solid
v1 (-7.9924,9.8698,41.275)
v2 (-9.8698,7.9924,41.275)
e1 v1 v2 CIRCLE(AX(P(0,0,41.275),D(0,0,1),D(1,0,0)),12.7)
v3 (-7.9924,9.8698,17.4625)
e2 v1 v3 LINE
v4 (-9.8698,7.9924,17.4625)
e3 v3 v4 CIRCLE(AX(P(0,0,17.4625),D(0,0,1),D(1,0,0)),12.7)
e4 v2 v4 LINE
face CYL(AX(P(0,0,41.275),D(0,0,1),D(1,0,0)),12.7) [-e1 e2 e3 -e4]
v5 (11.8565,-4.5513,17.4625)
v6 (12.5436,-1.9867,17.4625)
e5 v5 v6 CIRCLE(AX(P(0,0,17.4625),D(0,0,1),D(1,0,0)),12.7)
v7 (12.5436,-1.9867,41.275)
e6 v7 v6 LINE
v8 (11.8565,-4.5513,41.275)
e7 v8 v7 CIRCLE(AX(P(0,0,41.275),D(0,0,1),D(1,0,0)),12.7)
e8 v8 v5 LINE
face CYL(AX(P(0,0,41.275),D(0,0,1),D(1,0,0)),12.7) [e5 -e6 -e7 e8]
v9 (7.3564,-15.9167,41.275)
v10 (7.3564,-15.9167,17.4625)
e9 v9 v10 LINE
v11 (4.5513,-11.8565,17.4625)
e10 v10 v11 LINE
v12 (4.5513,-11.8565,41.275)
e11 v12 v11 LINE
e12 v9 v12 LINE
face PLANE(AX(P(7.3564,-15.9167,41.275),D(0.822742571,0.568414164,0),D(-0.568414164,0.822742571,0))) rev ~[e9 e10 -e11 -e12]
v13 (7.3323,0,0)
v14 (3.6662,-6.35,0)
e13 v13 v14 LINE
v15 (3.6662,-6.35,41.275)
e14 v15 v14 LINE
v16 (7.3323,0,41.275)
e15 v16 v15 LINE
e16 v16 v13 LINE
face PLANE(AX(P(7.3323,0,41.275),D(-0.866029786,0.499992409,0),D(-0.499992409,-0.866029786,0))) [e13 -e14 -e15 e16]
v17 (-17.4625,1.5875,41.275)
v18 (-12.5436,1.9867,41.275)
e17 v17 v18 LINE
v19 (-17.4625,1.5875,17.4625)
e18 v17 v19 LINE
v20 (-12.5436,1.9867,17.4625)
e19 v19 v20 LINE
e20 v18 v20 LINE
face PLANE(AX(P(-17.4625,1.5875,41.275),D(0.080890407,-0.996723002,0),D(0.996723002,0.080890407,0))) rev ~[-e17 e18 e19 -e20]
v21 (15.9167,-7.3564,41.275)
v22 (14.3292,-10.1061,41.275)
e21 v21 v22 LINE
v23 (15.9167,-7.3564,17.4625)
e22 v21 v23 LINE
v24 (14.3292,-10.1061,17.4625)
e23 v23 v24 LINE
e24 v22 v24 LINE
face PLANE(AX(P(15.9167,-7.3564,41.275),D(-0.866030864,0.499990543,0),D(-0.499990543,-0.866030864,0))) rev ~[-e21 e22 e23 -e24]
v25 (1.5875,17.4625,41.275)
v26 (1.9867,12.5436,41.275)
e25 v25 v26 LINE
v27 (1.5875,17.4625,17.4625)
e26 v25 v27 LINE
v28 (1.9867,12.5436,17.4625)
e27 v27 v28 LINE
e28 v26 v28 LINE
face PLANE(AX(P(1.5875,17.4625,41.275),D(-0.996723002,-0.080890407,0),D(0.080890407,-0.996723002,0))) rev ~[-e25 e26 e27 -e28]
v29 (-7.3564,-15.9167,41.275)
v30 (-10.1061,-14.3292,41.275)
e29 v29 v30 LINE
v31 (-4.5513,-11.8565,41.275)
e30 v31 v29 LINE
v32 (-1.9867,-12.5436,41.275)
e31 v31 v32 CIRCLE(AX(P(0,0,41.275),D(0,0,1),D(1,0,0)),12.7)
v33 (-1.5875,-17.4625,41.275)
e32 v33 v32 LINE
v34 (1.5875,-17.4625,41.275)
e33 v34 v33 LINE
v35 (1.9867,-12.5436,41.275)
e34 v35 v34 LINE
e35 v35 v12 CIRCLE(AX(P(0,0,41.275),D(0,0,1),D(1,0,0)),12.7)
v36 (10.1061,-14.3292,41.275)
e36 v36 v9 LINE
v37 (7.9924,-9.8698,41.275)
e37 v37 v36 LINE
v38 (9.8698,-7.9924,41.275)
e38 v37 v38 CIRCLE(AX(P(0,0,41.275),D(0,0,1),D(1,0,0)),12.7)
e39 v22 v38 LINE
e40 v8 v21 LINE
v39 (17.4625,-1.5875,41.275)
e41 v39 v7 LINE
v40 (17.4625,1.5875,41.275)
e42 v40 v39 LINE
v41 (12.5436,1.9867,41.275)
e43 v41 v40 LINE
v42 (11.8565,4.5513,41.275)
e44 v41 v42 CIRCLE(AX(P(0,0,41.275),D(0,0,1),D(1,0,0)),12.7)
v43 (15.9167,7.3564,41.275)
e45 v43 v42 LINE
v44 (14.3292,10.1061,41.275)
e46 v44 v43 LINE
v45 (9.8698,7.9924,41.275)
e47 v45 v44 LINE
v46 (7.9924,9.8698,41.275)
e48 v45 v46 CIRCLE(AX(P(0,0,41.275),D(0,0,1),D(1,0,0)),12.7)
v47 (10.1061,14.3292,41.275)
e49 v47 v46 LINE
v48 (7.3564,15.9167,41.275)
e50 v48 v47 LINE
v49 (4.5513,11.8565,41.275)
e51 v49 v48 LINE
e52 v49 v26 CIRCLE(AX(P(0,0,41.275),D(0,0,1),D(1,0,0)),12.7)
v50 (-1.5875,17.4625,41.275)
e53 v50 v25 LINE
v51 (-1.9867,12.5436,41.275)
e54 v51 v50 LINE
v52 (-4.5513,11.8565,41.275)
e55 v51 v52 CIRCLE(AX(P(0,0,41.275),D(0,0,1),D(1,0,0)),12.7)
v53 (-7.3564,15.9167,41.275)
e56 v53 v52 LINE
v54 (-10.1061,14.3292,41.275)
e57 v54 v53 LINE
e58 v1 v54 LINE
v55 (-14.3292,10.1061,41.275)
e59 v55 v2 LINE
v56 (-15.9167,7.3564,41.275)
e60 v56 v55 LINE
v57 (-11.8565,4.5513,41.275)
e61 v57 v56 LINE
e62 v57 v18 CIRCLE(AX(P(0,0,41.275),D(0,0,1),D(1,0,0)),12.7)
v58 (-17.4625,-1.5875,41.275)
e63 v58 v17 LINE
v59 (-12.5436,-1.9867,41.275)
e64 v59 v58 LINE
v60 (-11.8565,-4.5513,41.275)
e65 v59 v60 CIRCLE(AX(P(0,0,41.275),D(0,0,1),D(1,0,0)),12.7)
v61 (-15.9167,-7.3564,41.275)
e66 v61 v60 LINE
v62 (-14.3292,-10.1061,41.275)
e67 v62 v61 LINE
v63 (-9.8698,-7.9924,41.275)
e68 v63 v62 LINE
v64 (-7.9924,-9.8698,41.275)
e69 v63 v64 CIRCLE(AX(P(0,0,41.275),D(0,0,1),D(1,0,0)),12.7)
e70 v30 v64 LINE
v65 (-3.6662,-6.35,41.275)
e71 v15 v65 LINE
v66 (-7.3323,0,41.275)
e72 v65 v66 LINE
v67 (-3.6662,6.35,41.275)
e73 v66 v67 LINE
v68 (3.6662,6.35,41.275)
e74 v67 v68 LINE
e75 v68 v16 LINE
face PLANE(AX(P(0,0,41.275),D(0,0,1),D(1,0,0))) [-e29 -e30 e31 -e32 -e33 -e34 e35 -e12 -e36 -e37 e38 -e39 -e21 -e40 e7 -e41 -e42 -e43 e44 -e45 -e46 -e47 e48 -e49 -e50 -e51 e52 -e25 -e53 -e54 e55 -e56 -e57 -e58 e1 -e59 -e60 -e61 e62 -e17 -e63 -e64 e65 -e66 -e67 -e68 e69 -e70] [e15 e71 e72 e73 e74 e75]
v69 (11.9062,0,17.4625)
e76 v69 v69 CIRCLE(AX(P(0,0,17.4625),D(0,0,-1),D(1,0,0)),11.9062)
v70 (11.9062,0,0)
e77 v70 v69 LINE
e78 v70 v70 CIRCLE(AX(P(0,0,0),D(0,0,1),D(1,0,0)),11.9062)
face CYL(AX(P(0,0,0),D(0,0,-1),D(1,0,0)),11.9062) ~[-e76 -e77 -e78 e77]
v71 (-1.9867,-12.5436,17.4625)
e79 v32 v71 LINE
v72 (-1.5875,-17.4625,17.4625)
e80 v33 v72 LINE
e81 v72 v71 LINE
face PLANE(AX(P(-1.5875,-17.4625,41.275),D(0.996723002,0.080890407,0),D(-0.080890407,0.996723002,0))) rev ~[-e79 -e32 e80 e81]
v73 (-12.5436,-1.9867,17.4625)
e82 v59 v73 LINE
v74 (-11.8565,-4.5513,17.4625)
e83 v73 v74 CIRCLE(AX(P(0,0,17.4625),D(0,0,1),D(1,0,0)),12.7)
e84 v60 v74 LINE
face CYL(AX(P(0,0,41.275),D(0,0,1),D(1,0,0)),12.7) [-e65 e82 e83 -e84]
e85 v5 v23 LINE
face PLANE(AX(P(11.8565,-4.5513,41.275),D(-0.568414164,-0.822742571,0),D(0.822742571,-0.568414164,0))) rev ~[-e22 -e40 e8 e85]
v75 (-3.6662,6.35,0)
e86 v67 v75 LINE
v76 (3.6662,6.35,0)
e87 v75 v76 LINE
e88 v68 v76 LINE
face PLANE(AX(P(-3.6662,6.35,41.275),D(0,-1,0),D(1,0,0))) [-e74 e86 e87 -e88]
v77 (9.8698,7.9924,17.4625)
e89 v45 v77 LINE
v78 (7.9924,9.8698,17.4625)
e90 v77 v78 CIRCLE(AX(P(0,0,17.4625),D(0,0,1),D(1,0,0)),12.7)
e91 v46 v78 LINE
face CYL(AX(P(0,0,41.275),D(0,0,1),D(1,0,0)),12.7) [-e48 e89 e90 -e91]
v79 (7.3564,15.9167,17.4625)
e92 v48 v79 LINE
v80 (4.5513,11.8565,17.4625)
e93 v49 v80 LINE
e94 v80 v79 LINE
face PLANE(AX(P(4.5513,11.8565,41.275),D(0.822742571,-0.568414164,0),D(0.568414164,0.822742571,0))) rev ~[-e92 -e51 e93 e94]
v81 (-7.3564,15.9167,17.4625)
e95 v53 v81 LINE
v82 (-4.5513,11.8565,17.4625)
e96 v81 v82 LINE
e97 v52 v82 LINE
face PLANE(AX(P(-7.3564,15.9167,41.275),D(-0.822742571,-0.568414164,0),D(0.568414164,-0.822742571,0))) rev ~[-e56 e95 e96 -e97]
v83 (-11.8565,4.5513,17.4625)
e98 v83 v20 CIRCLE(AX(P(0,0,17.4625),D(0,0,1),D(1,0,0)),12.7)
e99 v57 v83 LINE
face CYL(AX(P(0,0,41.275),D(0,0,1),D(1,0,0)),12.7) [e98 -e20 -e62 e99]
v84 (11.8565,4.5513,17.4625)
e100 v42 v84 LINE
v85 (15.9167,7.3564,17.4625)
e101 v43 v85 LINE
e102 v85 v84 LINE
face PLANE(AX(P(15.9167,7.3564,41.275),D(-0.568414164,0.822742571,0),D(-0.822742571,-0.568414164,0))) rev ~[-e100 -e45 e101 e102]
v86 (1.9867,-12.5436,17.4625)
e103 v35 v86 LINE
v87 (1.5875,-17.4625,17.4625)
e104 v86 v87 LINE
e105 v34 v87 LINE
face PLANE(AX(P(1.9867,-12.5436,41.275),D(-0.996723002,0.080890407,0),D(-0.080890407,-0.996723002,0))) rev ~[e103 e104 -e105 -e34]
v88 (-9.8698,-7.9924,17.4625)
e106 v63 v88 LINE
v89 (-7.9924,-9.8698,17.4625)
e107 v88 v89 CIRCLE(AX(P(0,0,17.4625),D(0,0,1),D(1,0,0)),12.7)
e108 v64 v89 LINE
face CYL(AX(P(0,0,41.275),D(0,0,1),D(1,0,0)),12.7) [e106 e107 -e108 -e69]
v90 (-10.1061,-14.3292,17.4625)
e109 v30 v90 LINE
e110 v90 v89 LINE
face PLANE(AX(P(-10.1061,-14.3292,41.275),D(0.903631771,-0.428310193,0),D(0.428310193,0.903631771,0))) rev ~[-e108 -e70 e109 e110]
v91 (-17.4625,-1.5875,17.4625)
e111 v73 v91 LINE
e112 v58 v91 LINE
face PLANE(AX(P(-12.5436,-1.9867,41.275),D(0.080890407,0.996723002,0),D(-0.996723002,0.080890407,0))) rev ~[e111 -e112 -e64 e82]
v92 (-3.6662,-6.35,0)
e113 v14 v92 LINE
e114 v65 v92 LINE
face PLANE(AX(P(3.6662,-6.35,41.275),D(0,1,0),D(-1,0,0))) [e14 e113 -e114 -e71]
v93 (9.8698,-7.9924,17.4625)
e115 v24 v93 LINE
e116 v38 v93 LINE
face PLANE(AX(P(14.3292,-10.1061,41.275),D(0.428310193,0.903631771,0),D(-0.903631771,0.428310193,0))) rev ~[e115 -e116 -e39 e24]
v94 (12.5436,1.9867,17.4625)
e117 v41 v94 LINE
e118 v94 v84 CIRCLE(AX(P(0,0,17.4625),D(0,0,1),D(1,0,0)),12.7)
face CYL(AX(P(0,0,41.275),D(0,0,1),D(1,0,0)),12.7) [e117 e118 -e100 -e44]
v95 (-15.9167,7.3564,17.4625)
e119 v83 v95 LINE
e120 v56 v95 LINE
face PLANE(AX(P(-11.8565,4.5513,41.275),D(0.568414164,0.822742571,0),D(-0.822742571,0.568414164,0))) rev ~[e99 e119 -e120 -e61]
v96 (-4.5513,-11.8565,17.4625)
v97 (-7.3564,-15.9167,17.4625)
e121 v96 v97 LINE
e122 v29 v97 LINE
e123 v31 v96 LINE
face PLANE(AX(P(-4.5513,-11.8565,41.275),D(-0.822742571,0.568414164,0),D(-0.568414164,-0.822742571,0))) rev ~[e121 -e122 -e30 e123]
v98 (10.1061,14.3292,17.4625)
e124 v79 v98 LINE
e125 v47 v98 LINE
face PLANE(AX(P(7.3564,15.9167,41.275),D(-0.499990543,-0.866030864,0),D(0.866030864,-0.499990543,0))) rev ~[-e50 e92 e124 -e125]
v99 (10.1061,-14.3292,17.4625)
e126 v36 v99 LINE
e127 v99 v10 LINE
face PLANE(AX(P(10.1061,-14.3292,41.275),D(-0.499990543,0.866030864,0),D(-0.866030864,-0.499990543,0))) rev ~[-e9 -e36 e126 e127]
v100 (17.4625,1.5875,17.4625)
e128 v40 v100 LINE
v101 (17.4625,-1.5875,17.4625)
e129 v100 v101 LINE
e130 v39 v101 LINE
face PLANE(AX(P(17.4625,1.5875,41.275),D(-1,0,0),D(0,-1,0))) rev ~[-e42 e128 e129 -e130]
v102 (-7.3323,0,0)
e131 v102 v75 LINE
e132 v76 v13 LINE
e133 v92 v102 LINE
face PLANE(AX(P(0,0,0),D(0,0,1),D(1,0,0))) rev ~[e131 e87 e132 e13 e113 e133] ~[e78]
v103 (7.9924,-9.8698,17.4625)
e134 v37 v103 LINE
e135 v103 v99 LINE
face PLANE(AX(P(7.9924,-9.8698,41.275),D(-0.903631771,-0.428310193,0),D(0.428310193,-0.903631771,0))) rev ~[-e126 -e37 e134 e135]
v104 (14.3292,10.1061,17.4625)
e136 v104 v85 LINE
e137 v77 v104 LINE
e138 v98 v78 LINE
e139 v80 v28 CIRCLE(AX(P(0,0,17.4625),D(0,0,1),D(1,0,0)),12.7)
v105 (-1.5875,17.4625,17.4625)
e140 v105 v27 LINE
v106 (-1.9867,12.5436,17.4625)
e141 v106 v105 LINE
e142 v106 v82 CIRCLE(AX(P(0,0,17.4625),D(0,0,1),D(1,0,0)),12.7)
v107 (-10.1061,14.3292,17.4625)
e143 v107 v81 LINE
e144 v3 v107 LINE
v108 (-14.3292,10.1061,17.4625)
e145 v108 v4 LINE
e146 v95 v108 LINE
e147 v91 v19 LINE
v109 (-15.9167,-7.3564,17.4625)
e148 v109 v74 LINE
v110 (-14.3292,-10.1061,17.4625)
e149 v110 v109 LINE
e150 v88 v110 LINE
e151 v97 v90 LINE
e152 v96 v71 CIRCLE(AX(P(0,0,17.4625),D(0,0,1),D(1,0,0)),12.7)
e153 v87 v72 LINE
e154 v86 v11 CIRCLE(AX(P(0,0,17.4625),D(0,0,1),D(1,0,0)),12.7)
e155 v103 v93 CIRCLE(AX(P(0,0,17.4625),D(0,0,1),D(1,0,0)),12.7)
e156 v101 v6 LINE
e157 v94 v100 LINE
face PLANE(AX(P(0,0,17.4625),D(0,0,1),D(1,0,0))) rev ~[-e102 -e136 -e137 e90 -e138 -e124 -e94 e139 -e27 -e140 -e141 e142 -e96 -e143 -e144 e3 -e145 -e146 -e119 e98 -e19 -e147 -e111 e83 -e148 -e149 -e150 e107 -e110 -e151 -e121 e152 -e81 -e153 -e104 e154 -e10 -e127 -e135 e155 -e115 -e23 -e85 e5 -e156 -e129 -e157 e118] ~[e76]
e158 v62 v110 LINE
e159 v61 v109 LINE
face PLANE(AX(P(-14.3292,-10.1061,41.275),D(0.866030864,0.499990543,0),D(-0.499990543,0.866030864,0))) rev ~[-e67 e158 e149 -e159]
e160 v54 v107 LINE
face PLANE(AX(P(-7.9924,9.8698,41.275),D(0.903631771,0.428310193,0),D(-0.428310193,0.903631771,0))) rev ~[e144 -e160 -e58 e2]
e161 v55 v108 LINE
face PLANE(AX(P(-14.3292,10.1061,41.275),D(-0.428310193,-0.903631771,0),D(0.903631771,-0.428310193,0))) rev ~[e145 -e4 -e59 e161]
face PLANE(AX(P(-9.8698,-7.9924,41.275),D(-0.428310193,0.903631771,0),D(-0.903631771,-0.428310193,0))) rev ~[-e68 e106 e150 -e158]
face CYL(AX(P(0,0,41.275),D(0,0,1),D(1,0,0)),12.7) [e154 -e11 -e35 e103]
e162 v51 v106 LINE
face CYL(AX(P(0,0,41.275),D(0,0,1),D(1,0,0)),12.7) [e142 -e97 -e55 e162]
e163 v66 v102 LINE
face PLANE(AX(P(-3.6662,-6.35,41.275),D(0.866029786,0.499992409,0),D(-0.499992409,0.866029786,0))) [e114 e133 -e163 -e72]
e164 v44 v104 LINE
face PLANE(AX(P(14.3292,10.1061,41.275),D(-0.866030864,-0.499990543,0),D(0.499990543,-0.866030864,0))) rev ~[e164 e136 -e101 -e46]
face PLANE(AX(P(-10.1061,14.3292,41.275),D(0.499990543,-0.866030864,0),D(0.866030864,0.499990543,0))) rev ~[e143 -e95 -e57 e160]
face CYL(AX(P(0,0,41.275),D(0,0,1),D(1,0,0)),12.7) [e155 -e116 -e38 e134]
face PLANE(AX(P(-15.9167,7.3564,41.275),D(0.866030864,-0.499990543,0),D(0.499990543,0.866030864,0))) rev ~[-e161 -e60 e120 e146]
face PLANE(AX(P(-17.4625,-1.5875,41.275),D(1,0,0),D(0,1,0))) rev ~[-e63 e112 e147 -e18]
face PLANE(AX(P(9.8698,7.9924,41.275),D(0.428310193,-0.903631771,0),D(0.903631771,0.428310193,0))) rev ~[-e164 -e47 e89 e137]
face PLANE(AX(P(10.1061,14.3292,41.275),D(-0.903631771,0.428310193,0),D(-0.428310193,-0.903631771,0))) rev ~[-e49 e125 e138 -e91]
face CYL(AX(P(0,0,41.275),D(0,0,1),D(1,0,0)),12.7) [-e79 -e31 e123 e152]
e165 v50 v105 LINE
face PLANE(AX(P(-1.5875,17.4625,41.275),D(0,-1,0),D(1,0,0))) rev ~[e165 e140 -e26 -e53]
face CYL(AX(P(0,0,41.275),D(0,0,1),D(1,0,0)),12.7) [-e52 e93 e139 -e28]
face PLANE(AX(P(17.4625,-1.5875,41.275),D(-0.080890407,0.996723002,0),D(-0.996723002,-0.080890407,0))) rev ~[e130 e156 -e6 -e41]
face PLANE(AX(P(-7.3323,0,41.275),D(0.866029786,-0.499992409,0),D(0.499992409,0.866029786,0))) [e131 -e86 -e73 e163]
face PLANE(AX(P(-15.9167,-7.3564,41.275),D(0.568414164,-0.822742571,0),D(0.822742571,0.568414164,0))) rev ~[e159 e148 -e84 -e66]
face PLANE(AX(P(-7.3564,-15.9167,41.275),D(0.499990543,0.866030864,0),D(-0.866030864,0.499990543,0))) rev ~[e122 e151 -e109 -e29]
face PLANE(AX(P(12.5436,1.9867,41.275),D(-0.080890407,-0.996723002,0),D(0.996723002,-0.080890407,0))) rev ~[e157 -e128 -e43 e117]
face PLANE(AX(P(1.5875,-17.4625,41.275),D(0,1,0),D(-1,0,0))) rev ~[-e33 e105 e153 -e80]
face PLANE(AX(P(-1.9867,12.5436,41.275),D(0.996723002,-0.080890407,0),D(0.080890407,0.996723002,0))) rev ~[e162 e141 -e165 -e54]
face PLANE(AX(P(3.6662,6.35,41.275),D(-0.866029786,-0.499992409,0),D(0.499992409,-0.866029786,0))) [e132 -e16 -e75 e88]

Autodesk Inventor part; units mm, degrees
ref_plane "YZ Plane" through (0, 0, 0) normal (1, 0, 0) x (0, 1, 0)
ref_plane "XZ Plane" through (0, 0, 0) normal (0, 1, 0) x (-1, 0, 0)
ref_plane "XY Plane" through (0, 0, 0) normal (0, 0, 1) x (1, 0, 0)
sketch "Sketch1" plane through (0, 0, 0) normal (0, 0, 1) x (1, 0, 0)
  circle A0 centre (0, 0) radius 11.9062
  dimension "d0" = 23.8125
extrude "Extrusion1" add sketch "Sketch1" along normal blind 41.275
sketch "Sketch2" plane through (0, 0, 41.275) normal (0, 0, 1) x (1, 0, 0)
  circle A0 centre (0, 0) radius 12.7
  dimension "d3" = 25.4
extrude "Extrusion2" add sketch "Sketch2" against normal blind 23.8125
sketch "Sketch3" plane through (0, 0, 41.275) normal (0, 0, 1) x (1, 0, 0)
  line L0 (-3.6662, 6.35) -> (3.6662, 6.35)
  line L1 (3.6662, 6.35) -> (7.3323, 0)
  line L2 (7.3323, 0) -> (3.6662, -6.35)
  line L3 (3.6662, -6.35) -> (-3.6662, -6.35)
  line L4 (-3.6662, -6.35) -> (-7.3323, 0)
  line L5 (-7.3323, 0) -> (-3.6662, 6.35)
  point P0 (0, 0)
  dimension "d6" = 12.7
  dimension "d7" = 12.7
  dimension "d8" = 12.7
  dimension "d9" = 120
  dimension "d10" = 120
  dimension "d11" = 6.35
  dimension "d12" = 6.35
  dimension "d13" = 6.35
extrude "Extrusion3" cut sketch "Sketch3" against normal blind 50.8
sketch "Sketch4" plane through (0, 0, 41.275) normal (0, 0, 1) x (1, 0, 0)
  line L0 (-7.3323, 0) -> (-3.6662, 6.35) projected
  line L1 (-3.6662, 6.35) -> (3.6662, 6.35) projected
  line L2 (3.6662, 6.35) -> (7.3323, 0) projected
  line L3 (7.3323, 0) -> (3.6662, -6.35) projected
  line L4 (3.6662, -6.35) -> (-3.6662, -6.35) projected
  line L5 (-3.6662, -6.35) -> (-7.3323, 0) projected
  circle A0 centre (0, 0) radius 12.7 projected
  line L6 (0, 12.7) -> (0, 17.4625) construction
  line L7 (0, 12.7) -> (4.7625, 12.7) construction
  line L8 (0, 0) -> (1.9867, 12.5436) construction
  circle A1 centre (0, 0) radius 12.7 construction
  line L9 (0, 0) -> (12.7, 0) construction
  line L10 (0, 0) -> (-1.9867, 12.5436) construction
  line L11 (0, 0) -> (12.7, 0) construction
  line L12 (0, 17.4625) -> (0.7937, 17.4625) construction
  line L13 (0, 17.4625) -> (0.7937, 17.4625) construction
  line L14 (0, 17.4625) -> (-1.5875, 17.4625) construction
  line L15 (0, 17.4625) -> (1.5875, 17.4625) construction
  line L16 (-1.9867, 12.5436) -> (-1.5875, 17.4625)
  line L17 (-1.5875, 17.4625) -> (1.5875, 17.4625)
  line L18 (1.5875, 17.4625) -> (1.9867, 12.5436)
  line L19 (-1.9867, 12.5436) -> (1.9867, 12.5436)
  line L20 (-6.35, 10.9985) -> (-8.7312, 15.123) construction
  line L21 (-6.35, 10.9985) -> (-2.2256, 13.3798) construction
  line L22 (0, 0) -> (-4.5513, 11.8565) construction
  line L23 (0, 0) -> (-7.9924, 9.8698) construction
  line L24 (-8.7312, 15.123) -> (-8.0438, 15.5198) construction
  line L25 (-8.7312, 15.123) -> (-8.0438, 15.5198) construction
  line L26 (-8.7312, 15.123) -> (-10.1061, 14.3292) construction
  line L27 (-8.7312, 15.123) -> (-7.3564, 15.9167) construction
  line L28 (-7.9924, 9.8698) -> (-10.1061, 14.3292)
  line L29 (-10.1061, 14.3292) -> (-7.3564, 15.9167)
  line L30 (-7.3564, 15.9167) -> (-4.5513, 11.8565)
  line L31 (-7.9924, 9.8698) -> (-4.5513, 11.8565)
  line L32 (-10.9985, 6.35) -> (-15.123, 8.7313) construction
  line L33 (-10.9985, 6.35) -> (-8.6173, 10.4744) construction
  line L34 (0, 0) -> (-9.8698, 7.9924) construction
  line L35 (0, 0) -> (-11.8565, 4.5513) construction
  line L36 (-15.123, 8.7313) -> (-14.7261, 9.4187) construction
  line L37 (-15.123, 8.7313) -> (-14.7261, 9.4187) construction
  line L38 (-15.123, 8.7313) -> (-15.9167, 7.3564) construction
  line L39 (-15.123, 8.7313) -> (-14.3292, 10.1061) construction
  line L40 (-11.8565, 4.5513) -> (-15.9167, 7.3564)
  line L41 (-15.9167, 7.3564) -> (-14.3292, 10.1061)
  line L42 (-14.3292, 10.1061) -> (-9.8698, 7.9924)
  line L43 (-11.8565, 4.5513) -> (-9.8698, 7.9924)
  line L44 (-12.7, 0) -> (-17.4625, 0) construction
  line L45 (-12.7, 0) -> (-12.7, 4.7625) construction
  line L46 (0, 0) -> (-12.5436, 1.9867) construction
  line L47 (0, 0) -> (-12.5436, -1.9867) construction
  line L48 (-17.4625, 0) -> (-17.4625, 0.7938) construction
  line L49 (-17.4625, 0) -> (-17.4625, 0.7938) construction
  line L50 (-17.4625, 0) -> (-17.4625, -1.5875) construction
  line L51 (-17.4625, 0) -> (-17.4625, 1.5875) construction
  line L52 (-12.5436, -1.9867) -> (-17.4625, -1.5875)
  line L53 (-17.4625, -1.5875) -> (-17.4625, 1.5875)
  line L54 (-17.4625, 1.5875) -> (-12.5436, 1.9867)
  line L55 (-12.5436, -1.9867) -> (-12.5436, 1.9867)
  line L56 (-10.9985, -6.35) -> (-15.123, -8.7312) construction
  line L57 (-10.9985, -6.35) -> (-13.3798, -2.2256) construction
  line L58 (0, 0) -> (-11.8565, -4.5513) construction
  line L59 (0, 0) -> (-9.8698, -7.9924) construction
  line L60 (-15.123, -8.7312) -> (-15.5198, -8.0438) construction
  line L61 (-15.123, -8.7312) -> (-15.5198, -8.0438) construction
  line L62 (-15.123, -8.7312) -> (-14.3292, -10.1061) construction
  line L63 (-15.123, -8.7312) -> (-15.9167, -7.3564) construction
  line L64 (-9.8698, -7.9924) -> (-14.3292, -10.1061)
  line L65 (-14.3292, -10.1061) -> (-15.9167, -7.3564)
  line L66 (-15.9167, -7.3564) -> (-11.8565, -4.5513)
  line L67 (-9.8698, -7.9924) -> (-11.8565, -4.5513)
  line L68 (-6.35, -10.9985) -> (-8.7313, -15.123) construction
  line L69 (-6.35, -10.9985) -> (-10.4744, -8.6173) construction
  line L70 (0, 0) -> (-7.9924, -9.8698) construction
  line L71 (0, 0) -> (-4.5513, -11.8565) construction
  line L72 (-8.7313, -15.123) -> (-9.4187, -14.7261) construction
  line L73 (-8.7313, -15.123) -> (-9.4187, -14.7261) construction
  line L74 (-8.7313, -15.123) -> (-7.3564, -15.9167) construction
  line L75 (-8.7313, -15.123) -> (-10.1061, -14.3292) construction
  line L76 (-4.5513, -11.8565) -> (-7.3564, -15.9167)
  line L77 (-7.3564, -15.9167) -> (-10.1061, -14.3292)
  line L78 (-10.1061, -14.3292) -> (-7.9924, -9.8698)
  line L79 (-4.5513, -11.8565) -> (-7.9924, -9.8698)
  line L80 (0, -12.7) -> (0, -17.4625) construction
  line L81 (0, -12.7) -> (-4.7625, -12.7) construction
  line L82 (0, 0) -> (-1.9867, -12.5436) construction
  line L83 (0, 0) -> (1.9867, -12.5436) construction
  line L84 (0, -17.4625) -> (-0.7938, -17.4625) construction
  line L85 (0, -17.4625) -> (-0.7938, -17.4625) construction
  line L86 (0, -17.4625) -> (1.5875, -17.4625) construction
  line L87 (0, -17.4625) -> (-1.5875, -17.4625) construction
  line L88 (1.9867, -12.5436) -> (1.5875, -17.4625)
  line L89 (1.5875, -17.4625) -> (-1.5875, -17.4625)
  line L90 (-1.5875, -17.4625) -> (-1.9867, -12.5436)
  line L91 (1.9867, -12.5436) -> (-1.9867, -12.5436)
  line L92 (6.35, -10.9985) -> (8.7312, -15.123) construction
  line L93 (6.35, -10.9985) -> (2.2256, -13.3798) construction
  line L94 (0, 0) -> (4.5513, -11.8565) construction
  line L95 (0, 0) -> (7.9924, -9.8698) construction
  line L96 (8.7312, -15.123) -> (8.0438, -15.5198) construction
  line L97 (8.7312, -15.123) -> (8.0438, -15.5198) construction
  line L98 (8.7312, -15.123) -> (10.1061, -14.3292) construction
  line L99 (8.7312, -15.123) -> (7.3564, -15.9167) construction
  line L100 (7.9924, -9.8698) -> (10.1061, -14.3292)
  line L101 (10.1061, -14.3292) -> (7.3564, -15.9167)
  line L102 (7.3564, -15.9167) -> (4.5513, -11.8565)
  line L103 (7.9924, -9.8698) -> (4.5513, -11.8565)
  line L104 (10.9985, -6.35) -> (15.123, -8.7313) construction
  line L105 (10.9985, -6.35) -> (8.6173, -10.4744) construction
  line L106 (0, 0) -> (9.8698, -7.9924) construction
  line L107 (0, 0) -> (11.8565, -4.5513) construction
  line L108 (15.123, -8.7313) -> (14.7261, -9.4187) construction
  line L109 (15.123, -8.7313) -> (14.7261, -9.4187) construction
  line L110 (15.123, -8.7313) -> (15.9167, -7.3564) construction
  line L111 (15.123, -8.7313) -> (14.3292, -10.1061) construction
  line L112 (11.8565, -4.5513) -> (15.9167, -7.3564)
  line L113 (15.9167, -7.3564) -> (14.3292, -10.1061)
  line L114 (14.3292, -10.1061) -> (9.8698, -7.9924)
  line L115 (11.8565, -4.5513) -> (9.8698, -7.9924)
  line L116 (12.7, 0) -> (17.4625, 0) construction
  line L117 (12.7, 0) -> (12.7, -4.7625) construction
  line L118 (0, 0) -> (12.5436, -1.9867) construction
  line L119 (0, 0) -> (12.5436, 1.9867) construction
  line L120 (17.4625, 0) -> (17.4625, -0.7938) construction
  line L121 (17.4625, 0) -> (17.4625, -0.7938) construction
  line L122 (17.4625, 0) -> (17.4625, 1.5875) construction
  line L123 (17.4625, 0) -> (17.4625, -1.5875) construction
  line L124 (12.5436, 1.9867) -> (17.4625, 1.5875)
  line L125 (17.4625, 1.5875) -> (17.4625, -1.5875)
  line L126 (17.4625, -1.5875) -> (12.5436, -1.9867)
  line L127 (12.5436, 1.9867) -> (12.5436, -1.9867)
  line L128 (10.9985, 6.35) -> (15.123, 8.7313) construction
  line L129 (10.9985, 6.35) -> (13.3798, 2.2256) construction
  line L130 (0, 0) -> (11.8565, 4.5513) construction
  line L131 (0, 0) -> (9.8698, 7.9924) construction
  line L132 (15.123, 8.7313) -> (15.5198, 8.0438) construction
  line L133 (15.123, 8.7313) -> (15.5198, 8.0438) construction
  line L134 (15.123, 8.7313) -> (14.3292, 10.1061) construction
  line L135 (15.123, 8.7313) -> (15.9167, 7.3564) construction
  line L136 (9.8698, 7.9924) -> (14.3292, 10.1061)
  line L137 (14.3292, 10.1061) -> (15.9167, 7.3564)
  line L138 (15.9167, 7.3564) -> (11.8565, 4.5513)
  line L139 (9.8698, 7.9924) -> (11.8565, 4.5513)
  line L140 (6.35, 10.9985) -> (8.7312, 15.123) construction
  line L141 (6.35, 10.9985) -> (10.4744, 8.6173) construction
  line L142 (0, 0) -> (7.9924, 9.8698) construction
  line L143 (0, 0) -> (4.5513, 11.8565) construction
  line L144 (8.7312, 15.123) -> (9.4187, 14.7261) construction
  line L145 (8.7312, 15.123) -> (9.4187, 14.7261) construction
  line L146 (8.7312, 15.123) -> (7.3564, 15.9167) construction
  line L147 (8.7312, 15.123) -> (10.1061, 14.3292) construction
  line L148 (4.5513, 11.8565) -> (7.3564, 15.9167)
  line L149 (7.3564, 15.9167) -> (10.1061, 14.3292)
  line L150 (10.1061, 14.3292) -> (7.9924, 9.8698)
  line L151 (4.5513, 11.8565) -> (7.9924, 9.8698)
  dimension "d16" = 12.7
  dimension "d17" = 0
  dimension "d18" = 4.7625
  dimension "d19" = 90
  dimension "d20" = 81
  dimension "d21" = 99
  dimension "d22" = 0.7937
  dimension "d23" = 0
  dimension "d24" = 1.5875
  dimension "d25" = 180
  dimension "d28" = 360
extrude "Extrusion4" add sketch "Sketch4" against normal blind 23.8125 contours A0 L127 | A0 L124 L125 L126 | L139 A0 | A0 L136 L137 L138 | L112 L113 L114 A0 | A0 L115 | L151 A0 | A0 L148 L149 L150 | L100 L101 L102 A0 | A0 L103 | L19 A0 | A0 L16 L17 L18 | L88 L89 L90 A0 | A0 L91 | L31 A0 | A0 L28 L29 L30 | L76 L77 L78 A0 | A0 L79 | L43 A0 | A0 L40 L41 L42 | L64 L65 L66 A0 | A0 L67 | L55 A0 | A0 L52 L53 L54
properties part number "pinion" material "Nylon, molybdenum disulphide"
